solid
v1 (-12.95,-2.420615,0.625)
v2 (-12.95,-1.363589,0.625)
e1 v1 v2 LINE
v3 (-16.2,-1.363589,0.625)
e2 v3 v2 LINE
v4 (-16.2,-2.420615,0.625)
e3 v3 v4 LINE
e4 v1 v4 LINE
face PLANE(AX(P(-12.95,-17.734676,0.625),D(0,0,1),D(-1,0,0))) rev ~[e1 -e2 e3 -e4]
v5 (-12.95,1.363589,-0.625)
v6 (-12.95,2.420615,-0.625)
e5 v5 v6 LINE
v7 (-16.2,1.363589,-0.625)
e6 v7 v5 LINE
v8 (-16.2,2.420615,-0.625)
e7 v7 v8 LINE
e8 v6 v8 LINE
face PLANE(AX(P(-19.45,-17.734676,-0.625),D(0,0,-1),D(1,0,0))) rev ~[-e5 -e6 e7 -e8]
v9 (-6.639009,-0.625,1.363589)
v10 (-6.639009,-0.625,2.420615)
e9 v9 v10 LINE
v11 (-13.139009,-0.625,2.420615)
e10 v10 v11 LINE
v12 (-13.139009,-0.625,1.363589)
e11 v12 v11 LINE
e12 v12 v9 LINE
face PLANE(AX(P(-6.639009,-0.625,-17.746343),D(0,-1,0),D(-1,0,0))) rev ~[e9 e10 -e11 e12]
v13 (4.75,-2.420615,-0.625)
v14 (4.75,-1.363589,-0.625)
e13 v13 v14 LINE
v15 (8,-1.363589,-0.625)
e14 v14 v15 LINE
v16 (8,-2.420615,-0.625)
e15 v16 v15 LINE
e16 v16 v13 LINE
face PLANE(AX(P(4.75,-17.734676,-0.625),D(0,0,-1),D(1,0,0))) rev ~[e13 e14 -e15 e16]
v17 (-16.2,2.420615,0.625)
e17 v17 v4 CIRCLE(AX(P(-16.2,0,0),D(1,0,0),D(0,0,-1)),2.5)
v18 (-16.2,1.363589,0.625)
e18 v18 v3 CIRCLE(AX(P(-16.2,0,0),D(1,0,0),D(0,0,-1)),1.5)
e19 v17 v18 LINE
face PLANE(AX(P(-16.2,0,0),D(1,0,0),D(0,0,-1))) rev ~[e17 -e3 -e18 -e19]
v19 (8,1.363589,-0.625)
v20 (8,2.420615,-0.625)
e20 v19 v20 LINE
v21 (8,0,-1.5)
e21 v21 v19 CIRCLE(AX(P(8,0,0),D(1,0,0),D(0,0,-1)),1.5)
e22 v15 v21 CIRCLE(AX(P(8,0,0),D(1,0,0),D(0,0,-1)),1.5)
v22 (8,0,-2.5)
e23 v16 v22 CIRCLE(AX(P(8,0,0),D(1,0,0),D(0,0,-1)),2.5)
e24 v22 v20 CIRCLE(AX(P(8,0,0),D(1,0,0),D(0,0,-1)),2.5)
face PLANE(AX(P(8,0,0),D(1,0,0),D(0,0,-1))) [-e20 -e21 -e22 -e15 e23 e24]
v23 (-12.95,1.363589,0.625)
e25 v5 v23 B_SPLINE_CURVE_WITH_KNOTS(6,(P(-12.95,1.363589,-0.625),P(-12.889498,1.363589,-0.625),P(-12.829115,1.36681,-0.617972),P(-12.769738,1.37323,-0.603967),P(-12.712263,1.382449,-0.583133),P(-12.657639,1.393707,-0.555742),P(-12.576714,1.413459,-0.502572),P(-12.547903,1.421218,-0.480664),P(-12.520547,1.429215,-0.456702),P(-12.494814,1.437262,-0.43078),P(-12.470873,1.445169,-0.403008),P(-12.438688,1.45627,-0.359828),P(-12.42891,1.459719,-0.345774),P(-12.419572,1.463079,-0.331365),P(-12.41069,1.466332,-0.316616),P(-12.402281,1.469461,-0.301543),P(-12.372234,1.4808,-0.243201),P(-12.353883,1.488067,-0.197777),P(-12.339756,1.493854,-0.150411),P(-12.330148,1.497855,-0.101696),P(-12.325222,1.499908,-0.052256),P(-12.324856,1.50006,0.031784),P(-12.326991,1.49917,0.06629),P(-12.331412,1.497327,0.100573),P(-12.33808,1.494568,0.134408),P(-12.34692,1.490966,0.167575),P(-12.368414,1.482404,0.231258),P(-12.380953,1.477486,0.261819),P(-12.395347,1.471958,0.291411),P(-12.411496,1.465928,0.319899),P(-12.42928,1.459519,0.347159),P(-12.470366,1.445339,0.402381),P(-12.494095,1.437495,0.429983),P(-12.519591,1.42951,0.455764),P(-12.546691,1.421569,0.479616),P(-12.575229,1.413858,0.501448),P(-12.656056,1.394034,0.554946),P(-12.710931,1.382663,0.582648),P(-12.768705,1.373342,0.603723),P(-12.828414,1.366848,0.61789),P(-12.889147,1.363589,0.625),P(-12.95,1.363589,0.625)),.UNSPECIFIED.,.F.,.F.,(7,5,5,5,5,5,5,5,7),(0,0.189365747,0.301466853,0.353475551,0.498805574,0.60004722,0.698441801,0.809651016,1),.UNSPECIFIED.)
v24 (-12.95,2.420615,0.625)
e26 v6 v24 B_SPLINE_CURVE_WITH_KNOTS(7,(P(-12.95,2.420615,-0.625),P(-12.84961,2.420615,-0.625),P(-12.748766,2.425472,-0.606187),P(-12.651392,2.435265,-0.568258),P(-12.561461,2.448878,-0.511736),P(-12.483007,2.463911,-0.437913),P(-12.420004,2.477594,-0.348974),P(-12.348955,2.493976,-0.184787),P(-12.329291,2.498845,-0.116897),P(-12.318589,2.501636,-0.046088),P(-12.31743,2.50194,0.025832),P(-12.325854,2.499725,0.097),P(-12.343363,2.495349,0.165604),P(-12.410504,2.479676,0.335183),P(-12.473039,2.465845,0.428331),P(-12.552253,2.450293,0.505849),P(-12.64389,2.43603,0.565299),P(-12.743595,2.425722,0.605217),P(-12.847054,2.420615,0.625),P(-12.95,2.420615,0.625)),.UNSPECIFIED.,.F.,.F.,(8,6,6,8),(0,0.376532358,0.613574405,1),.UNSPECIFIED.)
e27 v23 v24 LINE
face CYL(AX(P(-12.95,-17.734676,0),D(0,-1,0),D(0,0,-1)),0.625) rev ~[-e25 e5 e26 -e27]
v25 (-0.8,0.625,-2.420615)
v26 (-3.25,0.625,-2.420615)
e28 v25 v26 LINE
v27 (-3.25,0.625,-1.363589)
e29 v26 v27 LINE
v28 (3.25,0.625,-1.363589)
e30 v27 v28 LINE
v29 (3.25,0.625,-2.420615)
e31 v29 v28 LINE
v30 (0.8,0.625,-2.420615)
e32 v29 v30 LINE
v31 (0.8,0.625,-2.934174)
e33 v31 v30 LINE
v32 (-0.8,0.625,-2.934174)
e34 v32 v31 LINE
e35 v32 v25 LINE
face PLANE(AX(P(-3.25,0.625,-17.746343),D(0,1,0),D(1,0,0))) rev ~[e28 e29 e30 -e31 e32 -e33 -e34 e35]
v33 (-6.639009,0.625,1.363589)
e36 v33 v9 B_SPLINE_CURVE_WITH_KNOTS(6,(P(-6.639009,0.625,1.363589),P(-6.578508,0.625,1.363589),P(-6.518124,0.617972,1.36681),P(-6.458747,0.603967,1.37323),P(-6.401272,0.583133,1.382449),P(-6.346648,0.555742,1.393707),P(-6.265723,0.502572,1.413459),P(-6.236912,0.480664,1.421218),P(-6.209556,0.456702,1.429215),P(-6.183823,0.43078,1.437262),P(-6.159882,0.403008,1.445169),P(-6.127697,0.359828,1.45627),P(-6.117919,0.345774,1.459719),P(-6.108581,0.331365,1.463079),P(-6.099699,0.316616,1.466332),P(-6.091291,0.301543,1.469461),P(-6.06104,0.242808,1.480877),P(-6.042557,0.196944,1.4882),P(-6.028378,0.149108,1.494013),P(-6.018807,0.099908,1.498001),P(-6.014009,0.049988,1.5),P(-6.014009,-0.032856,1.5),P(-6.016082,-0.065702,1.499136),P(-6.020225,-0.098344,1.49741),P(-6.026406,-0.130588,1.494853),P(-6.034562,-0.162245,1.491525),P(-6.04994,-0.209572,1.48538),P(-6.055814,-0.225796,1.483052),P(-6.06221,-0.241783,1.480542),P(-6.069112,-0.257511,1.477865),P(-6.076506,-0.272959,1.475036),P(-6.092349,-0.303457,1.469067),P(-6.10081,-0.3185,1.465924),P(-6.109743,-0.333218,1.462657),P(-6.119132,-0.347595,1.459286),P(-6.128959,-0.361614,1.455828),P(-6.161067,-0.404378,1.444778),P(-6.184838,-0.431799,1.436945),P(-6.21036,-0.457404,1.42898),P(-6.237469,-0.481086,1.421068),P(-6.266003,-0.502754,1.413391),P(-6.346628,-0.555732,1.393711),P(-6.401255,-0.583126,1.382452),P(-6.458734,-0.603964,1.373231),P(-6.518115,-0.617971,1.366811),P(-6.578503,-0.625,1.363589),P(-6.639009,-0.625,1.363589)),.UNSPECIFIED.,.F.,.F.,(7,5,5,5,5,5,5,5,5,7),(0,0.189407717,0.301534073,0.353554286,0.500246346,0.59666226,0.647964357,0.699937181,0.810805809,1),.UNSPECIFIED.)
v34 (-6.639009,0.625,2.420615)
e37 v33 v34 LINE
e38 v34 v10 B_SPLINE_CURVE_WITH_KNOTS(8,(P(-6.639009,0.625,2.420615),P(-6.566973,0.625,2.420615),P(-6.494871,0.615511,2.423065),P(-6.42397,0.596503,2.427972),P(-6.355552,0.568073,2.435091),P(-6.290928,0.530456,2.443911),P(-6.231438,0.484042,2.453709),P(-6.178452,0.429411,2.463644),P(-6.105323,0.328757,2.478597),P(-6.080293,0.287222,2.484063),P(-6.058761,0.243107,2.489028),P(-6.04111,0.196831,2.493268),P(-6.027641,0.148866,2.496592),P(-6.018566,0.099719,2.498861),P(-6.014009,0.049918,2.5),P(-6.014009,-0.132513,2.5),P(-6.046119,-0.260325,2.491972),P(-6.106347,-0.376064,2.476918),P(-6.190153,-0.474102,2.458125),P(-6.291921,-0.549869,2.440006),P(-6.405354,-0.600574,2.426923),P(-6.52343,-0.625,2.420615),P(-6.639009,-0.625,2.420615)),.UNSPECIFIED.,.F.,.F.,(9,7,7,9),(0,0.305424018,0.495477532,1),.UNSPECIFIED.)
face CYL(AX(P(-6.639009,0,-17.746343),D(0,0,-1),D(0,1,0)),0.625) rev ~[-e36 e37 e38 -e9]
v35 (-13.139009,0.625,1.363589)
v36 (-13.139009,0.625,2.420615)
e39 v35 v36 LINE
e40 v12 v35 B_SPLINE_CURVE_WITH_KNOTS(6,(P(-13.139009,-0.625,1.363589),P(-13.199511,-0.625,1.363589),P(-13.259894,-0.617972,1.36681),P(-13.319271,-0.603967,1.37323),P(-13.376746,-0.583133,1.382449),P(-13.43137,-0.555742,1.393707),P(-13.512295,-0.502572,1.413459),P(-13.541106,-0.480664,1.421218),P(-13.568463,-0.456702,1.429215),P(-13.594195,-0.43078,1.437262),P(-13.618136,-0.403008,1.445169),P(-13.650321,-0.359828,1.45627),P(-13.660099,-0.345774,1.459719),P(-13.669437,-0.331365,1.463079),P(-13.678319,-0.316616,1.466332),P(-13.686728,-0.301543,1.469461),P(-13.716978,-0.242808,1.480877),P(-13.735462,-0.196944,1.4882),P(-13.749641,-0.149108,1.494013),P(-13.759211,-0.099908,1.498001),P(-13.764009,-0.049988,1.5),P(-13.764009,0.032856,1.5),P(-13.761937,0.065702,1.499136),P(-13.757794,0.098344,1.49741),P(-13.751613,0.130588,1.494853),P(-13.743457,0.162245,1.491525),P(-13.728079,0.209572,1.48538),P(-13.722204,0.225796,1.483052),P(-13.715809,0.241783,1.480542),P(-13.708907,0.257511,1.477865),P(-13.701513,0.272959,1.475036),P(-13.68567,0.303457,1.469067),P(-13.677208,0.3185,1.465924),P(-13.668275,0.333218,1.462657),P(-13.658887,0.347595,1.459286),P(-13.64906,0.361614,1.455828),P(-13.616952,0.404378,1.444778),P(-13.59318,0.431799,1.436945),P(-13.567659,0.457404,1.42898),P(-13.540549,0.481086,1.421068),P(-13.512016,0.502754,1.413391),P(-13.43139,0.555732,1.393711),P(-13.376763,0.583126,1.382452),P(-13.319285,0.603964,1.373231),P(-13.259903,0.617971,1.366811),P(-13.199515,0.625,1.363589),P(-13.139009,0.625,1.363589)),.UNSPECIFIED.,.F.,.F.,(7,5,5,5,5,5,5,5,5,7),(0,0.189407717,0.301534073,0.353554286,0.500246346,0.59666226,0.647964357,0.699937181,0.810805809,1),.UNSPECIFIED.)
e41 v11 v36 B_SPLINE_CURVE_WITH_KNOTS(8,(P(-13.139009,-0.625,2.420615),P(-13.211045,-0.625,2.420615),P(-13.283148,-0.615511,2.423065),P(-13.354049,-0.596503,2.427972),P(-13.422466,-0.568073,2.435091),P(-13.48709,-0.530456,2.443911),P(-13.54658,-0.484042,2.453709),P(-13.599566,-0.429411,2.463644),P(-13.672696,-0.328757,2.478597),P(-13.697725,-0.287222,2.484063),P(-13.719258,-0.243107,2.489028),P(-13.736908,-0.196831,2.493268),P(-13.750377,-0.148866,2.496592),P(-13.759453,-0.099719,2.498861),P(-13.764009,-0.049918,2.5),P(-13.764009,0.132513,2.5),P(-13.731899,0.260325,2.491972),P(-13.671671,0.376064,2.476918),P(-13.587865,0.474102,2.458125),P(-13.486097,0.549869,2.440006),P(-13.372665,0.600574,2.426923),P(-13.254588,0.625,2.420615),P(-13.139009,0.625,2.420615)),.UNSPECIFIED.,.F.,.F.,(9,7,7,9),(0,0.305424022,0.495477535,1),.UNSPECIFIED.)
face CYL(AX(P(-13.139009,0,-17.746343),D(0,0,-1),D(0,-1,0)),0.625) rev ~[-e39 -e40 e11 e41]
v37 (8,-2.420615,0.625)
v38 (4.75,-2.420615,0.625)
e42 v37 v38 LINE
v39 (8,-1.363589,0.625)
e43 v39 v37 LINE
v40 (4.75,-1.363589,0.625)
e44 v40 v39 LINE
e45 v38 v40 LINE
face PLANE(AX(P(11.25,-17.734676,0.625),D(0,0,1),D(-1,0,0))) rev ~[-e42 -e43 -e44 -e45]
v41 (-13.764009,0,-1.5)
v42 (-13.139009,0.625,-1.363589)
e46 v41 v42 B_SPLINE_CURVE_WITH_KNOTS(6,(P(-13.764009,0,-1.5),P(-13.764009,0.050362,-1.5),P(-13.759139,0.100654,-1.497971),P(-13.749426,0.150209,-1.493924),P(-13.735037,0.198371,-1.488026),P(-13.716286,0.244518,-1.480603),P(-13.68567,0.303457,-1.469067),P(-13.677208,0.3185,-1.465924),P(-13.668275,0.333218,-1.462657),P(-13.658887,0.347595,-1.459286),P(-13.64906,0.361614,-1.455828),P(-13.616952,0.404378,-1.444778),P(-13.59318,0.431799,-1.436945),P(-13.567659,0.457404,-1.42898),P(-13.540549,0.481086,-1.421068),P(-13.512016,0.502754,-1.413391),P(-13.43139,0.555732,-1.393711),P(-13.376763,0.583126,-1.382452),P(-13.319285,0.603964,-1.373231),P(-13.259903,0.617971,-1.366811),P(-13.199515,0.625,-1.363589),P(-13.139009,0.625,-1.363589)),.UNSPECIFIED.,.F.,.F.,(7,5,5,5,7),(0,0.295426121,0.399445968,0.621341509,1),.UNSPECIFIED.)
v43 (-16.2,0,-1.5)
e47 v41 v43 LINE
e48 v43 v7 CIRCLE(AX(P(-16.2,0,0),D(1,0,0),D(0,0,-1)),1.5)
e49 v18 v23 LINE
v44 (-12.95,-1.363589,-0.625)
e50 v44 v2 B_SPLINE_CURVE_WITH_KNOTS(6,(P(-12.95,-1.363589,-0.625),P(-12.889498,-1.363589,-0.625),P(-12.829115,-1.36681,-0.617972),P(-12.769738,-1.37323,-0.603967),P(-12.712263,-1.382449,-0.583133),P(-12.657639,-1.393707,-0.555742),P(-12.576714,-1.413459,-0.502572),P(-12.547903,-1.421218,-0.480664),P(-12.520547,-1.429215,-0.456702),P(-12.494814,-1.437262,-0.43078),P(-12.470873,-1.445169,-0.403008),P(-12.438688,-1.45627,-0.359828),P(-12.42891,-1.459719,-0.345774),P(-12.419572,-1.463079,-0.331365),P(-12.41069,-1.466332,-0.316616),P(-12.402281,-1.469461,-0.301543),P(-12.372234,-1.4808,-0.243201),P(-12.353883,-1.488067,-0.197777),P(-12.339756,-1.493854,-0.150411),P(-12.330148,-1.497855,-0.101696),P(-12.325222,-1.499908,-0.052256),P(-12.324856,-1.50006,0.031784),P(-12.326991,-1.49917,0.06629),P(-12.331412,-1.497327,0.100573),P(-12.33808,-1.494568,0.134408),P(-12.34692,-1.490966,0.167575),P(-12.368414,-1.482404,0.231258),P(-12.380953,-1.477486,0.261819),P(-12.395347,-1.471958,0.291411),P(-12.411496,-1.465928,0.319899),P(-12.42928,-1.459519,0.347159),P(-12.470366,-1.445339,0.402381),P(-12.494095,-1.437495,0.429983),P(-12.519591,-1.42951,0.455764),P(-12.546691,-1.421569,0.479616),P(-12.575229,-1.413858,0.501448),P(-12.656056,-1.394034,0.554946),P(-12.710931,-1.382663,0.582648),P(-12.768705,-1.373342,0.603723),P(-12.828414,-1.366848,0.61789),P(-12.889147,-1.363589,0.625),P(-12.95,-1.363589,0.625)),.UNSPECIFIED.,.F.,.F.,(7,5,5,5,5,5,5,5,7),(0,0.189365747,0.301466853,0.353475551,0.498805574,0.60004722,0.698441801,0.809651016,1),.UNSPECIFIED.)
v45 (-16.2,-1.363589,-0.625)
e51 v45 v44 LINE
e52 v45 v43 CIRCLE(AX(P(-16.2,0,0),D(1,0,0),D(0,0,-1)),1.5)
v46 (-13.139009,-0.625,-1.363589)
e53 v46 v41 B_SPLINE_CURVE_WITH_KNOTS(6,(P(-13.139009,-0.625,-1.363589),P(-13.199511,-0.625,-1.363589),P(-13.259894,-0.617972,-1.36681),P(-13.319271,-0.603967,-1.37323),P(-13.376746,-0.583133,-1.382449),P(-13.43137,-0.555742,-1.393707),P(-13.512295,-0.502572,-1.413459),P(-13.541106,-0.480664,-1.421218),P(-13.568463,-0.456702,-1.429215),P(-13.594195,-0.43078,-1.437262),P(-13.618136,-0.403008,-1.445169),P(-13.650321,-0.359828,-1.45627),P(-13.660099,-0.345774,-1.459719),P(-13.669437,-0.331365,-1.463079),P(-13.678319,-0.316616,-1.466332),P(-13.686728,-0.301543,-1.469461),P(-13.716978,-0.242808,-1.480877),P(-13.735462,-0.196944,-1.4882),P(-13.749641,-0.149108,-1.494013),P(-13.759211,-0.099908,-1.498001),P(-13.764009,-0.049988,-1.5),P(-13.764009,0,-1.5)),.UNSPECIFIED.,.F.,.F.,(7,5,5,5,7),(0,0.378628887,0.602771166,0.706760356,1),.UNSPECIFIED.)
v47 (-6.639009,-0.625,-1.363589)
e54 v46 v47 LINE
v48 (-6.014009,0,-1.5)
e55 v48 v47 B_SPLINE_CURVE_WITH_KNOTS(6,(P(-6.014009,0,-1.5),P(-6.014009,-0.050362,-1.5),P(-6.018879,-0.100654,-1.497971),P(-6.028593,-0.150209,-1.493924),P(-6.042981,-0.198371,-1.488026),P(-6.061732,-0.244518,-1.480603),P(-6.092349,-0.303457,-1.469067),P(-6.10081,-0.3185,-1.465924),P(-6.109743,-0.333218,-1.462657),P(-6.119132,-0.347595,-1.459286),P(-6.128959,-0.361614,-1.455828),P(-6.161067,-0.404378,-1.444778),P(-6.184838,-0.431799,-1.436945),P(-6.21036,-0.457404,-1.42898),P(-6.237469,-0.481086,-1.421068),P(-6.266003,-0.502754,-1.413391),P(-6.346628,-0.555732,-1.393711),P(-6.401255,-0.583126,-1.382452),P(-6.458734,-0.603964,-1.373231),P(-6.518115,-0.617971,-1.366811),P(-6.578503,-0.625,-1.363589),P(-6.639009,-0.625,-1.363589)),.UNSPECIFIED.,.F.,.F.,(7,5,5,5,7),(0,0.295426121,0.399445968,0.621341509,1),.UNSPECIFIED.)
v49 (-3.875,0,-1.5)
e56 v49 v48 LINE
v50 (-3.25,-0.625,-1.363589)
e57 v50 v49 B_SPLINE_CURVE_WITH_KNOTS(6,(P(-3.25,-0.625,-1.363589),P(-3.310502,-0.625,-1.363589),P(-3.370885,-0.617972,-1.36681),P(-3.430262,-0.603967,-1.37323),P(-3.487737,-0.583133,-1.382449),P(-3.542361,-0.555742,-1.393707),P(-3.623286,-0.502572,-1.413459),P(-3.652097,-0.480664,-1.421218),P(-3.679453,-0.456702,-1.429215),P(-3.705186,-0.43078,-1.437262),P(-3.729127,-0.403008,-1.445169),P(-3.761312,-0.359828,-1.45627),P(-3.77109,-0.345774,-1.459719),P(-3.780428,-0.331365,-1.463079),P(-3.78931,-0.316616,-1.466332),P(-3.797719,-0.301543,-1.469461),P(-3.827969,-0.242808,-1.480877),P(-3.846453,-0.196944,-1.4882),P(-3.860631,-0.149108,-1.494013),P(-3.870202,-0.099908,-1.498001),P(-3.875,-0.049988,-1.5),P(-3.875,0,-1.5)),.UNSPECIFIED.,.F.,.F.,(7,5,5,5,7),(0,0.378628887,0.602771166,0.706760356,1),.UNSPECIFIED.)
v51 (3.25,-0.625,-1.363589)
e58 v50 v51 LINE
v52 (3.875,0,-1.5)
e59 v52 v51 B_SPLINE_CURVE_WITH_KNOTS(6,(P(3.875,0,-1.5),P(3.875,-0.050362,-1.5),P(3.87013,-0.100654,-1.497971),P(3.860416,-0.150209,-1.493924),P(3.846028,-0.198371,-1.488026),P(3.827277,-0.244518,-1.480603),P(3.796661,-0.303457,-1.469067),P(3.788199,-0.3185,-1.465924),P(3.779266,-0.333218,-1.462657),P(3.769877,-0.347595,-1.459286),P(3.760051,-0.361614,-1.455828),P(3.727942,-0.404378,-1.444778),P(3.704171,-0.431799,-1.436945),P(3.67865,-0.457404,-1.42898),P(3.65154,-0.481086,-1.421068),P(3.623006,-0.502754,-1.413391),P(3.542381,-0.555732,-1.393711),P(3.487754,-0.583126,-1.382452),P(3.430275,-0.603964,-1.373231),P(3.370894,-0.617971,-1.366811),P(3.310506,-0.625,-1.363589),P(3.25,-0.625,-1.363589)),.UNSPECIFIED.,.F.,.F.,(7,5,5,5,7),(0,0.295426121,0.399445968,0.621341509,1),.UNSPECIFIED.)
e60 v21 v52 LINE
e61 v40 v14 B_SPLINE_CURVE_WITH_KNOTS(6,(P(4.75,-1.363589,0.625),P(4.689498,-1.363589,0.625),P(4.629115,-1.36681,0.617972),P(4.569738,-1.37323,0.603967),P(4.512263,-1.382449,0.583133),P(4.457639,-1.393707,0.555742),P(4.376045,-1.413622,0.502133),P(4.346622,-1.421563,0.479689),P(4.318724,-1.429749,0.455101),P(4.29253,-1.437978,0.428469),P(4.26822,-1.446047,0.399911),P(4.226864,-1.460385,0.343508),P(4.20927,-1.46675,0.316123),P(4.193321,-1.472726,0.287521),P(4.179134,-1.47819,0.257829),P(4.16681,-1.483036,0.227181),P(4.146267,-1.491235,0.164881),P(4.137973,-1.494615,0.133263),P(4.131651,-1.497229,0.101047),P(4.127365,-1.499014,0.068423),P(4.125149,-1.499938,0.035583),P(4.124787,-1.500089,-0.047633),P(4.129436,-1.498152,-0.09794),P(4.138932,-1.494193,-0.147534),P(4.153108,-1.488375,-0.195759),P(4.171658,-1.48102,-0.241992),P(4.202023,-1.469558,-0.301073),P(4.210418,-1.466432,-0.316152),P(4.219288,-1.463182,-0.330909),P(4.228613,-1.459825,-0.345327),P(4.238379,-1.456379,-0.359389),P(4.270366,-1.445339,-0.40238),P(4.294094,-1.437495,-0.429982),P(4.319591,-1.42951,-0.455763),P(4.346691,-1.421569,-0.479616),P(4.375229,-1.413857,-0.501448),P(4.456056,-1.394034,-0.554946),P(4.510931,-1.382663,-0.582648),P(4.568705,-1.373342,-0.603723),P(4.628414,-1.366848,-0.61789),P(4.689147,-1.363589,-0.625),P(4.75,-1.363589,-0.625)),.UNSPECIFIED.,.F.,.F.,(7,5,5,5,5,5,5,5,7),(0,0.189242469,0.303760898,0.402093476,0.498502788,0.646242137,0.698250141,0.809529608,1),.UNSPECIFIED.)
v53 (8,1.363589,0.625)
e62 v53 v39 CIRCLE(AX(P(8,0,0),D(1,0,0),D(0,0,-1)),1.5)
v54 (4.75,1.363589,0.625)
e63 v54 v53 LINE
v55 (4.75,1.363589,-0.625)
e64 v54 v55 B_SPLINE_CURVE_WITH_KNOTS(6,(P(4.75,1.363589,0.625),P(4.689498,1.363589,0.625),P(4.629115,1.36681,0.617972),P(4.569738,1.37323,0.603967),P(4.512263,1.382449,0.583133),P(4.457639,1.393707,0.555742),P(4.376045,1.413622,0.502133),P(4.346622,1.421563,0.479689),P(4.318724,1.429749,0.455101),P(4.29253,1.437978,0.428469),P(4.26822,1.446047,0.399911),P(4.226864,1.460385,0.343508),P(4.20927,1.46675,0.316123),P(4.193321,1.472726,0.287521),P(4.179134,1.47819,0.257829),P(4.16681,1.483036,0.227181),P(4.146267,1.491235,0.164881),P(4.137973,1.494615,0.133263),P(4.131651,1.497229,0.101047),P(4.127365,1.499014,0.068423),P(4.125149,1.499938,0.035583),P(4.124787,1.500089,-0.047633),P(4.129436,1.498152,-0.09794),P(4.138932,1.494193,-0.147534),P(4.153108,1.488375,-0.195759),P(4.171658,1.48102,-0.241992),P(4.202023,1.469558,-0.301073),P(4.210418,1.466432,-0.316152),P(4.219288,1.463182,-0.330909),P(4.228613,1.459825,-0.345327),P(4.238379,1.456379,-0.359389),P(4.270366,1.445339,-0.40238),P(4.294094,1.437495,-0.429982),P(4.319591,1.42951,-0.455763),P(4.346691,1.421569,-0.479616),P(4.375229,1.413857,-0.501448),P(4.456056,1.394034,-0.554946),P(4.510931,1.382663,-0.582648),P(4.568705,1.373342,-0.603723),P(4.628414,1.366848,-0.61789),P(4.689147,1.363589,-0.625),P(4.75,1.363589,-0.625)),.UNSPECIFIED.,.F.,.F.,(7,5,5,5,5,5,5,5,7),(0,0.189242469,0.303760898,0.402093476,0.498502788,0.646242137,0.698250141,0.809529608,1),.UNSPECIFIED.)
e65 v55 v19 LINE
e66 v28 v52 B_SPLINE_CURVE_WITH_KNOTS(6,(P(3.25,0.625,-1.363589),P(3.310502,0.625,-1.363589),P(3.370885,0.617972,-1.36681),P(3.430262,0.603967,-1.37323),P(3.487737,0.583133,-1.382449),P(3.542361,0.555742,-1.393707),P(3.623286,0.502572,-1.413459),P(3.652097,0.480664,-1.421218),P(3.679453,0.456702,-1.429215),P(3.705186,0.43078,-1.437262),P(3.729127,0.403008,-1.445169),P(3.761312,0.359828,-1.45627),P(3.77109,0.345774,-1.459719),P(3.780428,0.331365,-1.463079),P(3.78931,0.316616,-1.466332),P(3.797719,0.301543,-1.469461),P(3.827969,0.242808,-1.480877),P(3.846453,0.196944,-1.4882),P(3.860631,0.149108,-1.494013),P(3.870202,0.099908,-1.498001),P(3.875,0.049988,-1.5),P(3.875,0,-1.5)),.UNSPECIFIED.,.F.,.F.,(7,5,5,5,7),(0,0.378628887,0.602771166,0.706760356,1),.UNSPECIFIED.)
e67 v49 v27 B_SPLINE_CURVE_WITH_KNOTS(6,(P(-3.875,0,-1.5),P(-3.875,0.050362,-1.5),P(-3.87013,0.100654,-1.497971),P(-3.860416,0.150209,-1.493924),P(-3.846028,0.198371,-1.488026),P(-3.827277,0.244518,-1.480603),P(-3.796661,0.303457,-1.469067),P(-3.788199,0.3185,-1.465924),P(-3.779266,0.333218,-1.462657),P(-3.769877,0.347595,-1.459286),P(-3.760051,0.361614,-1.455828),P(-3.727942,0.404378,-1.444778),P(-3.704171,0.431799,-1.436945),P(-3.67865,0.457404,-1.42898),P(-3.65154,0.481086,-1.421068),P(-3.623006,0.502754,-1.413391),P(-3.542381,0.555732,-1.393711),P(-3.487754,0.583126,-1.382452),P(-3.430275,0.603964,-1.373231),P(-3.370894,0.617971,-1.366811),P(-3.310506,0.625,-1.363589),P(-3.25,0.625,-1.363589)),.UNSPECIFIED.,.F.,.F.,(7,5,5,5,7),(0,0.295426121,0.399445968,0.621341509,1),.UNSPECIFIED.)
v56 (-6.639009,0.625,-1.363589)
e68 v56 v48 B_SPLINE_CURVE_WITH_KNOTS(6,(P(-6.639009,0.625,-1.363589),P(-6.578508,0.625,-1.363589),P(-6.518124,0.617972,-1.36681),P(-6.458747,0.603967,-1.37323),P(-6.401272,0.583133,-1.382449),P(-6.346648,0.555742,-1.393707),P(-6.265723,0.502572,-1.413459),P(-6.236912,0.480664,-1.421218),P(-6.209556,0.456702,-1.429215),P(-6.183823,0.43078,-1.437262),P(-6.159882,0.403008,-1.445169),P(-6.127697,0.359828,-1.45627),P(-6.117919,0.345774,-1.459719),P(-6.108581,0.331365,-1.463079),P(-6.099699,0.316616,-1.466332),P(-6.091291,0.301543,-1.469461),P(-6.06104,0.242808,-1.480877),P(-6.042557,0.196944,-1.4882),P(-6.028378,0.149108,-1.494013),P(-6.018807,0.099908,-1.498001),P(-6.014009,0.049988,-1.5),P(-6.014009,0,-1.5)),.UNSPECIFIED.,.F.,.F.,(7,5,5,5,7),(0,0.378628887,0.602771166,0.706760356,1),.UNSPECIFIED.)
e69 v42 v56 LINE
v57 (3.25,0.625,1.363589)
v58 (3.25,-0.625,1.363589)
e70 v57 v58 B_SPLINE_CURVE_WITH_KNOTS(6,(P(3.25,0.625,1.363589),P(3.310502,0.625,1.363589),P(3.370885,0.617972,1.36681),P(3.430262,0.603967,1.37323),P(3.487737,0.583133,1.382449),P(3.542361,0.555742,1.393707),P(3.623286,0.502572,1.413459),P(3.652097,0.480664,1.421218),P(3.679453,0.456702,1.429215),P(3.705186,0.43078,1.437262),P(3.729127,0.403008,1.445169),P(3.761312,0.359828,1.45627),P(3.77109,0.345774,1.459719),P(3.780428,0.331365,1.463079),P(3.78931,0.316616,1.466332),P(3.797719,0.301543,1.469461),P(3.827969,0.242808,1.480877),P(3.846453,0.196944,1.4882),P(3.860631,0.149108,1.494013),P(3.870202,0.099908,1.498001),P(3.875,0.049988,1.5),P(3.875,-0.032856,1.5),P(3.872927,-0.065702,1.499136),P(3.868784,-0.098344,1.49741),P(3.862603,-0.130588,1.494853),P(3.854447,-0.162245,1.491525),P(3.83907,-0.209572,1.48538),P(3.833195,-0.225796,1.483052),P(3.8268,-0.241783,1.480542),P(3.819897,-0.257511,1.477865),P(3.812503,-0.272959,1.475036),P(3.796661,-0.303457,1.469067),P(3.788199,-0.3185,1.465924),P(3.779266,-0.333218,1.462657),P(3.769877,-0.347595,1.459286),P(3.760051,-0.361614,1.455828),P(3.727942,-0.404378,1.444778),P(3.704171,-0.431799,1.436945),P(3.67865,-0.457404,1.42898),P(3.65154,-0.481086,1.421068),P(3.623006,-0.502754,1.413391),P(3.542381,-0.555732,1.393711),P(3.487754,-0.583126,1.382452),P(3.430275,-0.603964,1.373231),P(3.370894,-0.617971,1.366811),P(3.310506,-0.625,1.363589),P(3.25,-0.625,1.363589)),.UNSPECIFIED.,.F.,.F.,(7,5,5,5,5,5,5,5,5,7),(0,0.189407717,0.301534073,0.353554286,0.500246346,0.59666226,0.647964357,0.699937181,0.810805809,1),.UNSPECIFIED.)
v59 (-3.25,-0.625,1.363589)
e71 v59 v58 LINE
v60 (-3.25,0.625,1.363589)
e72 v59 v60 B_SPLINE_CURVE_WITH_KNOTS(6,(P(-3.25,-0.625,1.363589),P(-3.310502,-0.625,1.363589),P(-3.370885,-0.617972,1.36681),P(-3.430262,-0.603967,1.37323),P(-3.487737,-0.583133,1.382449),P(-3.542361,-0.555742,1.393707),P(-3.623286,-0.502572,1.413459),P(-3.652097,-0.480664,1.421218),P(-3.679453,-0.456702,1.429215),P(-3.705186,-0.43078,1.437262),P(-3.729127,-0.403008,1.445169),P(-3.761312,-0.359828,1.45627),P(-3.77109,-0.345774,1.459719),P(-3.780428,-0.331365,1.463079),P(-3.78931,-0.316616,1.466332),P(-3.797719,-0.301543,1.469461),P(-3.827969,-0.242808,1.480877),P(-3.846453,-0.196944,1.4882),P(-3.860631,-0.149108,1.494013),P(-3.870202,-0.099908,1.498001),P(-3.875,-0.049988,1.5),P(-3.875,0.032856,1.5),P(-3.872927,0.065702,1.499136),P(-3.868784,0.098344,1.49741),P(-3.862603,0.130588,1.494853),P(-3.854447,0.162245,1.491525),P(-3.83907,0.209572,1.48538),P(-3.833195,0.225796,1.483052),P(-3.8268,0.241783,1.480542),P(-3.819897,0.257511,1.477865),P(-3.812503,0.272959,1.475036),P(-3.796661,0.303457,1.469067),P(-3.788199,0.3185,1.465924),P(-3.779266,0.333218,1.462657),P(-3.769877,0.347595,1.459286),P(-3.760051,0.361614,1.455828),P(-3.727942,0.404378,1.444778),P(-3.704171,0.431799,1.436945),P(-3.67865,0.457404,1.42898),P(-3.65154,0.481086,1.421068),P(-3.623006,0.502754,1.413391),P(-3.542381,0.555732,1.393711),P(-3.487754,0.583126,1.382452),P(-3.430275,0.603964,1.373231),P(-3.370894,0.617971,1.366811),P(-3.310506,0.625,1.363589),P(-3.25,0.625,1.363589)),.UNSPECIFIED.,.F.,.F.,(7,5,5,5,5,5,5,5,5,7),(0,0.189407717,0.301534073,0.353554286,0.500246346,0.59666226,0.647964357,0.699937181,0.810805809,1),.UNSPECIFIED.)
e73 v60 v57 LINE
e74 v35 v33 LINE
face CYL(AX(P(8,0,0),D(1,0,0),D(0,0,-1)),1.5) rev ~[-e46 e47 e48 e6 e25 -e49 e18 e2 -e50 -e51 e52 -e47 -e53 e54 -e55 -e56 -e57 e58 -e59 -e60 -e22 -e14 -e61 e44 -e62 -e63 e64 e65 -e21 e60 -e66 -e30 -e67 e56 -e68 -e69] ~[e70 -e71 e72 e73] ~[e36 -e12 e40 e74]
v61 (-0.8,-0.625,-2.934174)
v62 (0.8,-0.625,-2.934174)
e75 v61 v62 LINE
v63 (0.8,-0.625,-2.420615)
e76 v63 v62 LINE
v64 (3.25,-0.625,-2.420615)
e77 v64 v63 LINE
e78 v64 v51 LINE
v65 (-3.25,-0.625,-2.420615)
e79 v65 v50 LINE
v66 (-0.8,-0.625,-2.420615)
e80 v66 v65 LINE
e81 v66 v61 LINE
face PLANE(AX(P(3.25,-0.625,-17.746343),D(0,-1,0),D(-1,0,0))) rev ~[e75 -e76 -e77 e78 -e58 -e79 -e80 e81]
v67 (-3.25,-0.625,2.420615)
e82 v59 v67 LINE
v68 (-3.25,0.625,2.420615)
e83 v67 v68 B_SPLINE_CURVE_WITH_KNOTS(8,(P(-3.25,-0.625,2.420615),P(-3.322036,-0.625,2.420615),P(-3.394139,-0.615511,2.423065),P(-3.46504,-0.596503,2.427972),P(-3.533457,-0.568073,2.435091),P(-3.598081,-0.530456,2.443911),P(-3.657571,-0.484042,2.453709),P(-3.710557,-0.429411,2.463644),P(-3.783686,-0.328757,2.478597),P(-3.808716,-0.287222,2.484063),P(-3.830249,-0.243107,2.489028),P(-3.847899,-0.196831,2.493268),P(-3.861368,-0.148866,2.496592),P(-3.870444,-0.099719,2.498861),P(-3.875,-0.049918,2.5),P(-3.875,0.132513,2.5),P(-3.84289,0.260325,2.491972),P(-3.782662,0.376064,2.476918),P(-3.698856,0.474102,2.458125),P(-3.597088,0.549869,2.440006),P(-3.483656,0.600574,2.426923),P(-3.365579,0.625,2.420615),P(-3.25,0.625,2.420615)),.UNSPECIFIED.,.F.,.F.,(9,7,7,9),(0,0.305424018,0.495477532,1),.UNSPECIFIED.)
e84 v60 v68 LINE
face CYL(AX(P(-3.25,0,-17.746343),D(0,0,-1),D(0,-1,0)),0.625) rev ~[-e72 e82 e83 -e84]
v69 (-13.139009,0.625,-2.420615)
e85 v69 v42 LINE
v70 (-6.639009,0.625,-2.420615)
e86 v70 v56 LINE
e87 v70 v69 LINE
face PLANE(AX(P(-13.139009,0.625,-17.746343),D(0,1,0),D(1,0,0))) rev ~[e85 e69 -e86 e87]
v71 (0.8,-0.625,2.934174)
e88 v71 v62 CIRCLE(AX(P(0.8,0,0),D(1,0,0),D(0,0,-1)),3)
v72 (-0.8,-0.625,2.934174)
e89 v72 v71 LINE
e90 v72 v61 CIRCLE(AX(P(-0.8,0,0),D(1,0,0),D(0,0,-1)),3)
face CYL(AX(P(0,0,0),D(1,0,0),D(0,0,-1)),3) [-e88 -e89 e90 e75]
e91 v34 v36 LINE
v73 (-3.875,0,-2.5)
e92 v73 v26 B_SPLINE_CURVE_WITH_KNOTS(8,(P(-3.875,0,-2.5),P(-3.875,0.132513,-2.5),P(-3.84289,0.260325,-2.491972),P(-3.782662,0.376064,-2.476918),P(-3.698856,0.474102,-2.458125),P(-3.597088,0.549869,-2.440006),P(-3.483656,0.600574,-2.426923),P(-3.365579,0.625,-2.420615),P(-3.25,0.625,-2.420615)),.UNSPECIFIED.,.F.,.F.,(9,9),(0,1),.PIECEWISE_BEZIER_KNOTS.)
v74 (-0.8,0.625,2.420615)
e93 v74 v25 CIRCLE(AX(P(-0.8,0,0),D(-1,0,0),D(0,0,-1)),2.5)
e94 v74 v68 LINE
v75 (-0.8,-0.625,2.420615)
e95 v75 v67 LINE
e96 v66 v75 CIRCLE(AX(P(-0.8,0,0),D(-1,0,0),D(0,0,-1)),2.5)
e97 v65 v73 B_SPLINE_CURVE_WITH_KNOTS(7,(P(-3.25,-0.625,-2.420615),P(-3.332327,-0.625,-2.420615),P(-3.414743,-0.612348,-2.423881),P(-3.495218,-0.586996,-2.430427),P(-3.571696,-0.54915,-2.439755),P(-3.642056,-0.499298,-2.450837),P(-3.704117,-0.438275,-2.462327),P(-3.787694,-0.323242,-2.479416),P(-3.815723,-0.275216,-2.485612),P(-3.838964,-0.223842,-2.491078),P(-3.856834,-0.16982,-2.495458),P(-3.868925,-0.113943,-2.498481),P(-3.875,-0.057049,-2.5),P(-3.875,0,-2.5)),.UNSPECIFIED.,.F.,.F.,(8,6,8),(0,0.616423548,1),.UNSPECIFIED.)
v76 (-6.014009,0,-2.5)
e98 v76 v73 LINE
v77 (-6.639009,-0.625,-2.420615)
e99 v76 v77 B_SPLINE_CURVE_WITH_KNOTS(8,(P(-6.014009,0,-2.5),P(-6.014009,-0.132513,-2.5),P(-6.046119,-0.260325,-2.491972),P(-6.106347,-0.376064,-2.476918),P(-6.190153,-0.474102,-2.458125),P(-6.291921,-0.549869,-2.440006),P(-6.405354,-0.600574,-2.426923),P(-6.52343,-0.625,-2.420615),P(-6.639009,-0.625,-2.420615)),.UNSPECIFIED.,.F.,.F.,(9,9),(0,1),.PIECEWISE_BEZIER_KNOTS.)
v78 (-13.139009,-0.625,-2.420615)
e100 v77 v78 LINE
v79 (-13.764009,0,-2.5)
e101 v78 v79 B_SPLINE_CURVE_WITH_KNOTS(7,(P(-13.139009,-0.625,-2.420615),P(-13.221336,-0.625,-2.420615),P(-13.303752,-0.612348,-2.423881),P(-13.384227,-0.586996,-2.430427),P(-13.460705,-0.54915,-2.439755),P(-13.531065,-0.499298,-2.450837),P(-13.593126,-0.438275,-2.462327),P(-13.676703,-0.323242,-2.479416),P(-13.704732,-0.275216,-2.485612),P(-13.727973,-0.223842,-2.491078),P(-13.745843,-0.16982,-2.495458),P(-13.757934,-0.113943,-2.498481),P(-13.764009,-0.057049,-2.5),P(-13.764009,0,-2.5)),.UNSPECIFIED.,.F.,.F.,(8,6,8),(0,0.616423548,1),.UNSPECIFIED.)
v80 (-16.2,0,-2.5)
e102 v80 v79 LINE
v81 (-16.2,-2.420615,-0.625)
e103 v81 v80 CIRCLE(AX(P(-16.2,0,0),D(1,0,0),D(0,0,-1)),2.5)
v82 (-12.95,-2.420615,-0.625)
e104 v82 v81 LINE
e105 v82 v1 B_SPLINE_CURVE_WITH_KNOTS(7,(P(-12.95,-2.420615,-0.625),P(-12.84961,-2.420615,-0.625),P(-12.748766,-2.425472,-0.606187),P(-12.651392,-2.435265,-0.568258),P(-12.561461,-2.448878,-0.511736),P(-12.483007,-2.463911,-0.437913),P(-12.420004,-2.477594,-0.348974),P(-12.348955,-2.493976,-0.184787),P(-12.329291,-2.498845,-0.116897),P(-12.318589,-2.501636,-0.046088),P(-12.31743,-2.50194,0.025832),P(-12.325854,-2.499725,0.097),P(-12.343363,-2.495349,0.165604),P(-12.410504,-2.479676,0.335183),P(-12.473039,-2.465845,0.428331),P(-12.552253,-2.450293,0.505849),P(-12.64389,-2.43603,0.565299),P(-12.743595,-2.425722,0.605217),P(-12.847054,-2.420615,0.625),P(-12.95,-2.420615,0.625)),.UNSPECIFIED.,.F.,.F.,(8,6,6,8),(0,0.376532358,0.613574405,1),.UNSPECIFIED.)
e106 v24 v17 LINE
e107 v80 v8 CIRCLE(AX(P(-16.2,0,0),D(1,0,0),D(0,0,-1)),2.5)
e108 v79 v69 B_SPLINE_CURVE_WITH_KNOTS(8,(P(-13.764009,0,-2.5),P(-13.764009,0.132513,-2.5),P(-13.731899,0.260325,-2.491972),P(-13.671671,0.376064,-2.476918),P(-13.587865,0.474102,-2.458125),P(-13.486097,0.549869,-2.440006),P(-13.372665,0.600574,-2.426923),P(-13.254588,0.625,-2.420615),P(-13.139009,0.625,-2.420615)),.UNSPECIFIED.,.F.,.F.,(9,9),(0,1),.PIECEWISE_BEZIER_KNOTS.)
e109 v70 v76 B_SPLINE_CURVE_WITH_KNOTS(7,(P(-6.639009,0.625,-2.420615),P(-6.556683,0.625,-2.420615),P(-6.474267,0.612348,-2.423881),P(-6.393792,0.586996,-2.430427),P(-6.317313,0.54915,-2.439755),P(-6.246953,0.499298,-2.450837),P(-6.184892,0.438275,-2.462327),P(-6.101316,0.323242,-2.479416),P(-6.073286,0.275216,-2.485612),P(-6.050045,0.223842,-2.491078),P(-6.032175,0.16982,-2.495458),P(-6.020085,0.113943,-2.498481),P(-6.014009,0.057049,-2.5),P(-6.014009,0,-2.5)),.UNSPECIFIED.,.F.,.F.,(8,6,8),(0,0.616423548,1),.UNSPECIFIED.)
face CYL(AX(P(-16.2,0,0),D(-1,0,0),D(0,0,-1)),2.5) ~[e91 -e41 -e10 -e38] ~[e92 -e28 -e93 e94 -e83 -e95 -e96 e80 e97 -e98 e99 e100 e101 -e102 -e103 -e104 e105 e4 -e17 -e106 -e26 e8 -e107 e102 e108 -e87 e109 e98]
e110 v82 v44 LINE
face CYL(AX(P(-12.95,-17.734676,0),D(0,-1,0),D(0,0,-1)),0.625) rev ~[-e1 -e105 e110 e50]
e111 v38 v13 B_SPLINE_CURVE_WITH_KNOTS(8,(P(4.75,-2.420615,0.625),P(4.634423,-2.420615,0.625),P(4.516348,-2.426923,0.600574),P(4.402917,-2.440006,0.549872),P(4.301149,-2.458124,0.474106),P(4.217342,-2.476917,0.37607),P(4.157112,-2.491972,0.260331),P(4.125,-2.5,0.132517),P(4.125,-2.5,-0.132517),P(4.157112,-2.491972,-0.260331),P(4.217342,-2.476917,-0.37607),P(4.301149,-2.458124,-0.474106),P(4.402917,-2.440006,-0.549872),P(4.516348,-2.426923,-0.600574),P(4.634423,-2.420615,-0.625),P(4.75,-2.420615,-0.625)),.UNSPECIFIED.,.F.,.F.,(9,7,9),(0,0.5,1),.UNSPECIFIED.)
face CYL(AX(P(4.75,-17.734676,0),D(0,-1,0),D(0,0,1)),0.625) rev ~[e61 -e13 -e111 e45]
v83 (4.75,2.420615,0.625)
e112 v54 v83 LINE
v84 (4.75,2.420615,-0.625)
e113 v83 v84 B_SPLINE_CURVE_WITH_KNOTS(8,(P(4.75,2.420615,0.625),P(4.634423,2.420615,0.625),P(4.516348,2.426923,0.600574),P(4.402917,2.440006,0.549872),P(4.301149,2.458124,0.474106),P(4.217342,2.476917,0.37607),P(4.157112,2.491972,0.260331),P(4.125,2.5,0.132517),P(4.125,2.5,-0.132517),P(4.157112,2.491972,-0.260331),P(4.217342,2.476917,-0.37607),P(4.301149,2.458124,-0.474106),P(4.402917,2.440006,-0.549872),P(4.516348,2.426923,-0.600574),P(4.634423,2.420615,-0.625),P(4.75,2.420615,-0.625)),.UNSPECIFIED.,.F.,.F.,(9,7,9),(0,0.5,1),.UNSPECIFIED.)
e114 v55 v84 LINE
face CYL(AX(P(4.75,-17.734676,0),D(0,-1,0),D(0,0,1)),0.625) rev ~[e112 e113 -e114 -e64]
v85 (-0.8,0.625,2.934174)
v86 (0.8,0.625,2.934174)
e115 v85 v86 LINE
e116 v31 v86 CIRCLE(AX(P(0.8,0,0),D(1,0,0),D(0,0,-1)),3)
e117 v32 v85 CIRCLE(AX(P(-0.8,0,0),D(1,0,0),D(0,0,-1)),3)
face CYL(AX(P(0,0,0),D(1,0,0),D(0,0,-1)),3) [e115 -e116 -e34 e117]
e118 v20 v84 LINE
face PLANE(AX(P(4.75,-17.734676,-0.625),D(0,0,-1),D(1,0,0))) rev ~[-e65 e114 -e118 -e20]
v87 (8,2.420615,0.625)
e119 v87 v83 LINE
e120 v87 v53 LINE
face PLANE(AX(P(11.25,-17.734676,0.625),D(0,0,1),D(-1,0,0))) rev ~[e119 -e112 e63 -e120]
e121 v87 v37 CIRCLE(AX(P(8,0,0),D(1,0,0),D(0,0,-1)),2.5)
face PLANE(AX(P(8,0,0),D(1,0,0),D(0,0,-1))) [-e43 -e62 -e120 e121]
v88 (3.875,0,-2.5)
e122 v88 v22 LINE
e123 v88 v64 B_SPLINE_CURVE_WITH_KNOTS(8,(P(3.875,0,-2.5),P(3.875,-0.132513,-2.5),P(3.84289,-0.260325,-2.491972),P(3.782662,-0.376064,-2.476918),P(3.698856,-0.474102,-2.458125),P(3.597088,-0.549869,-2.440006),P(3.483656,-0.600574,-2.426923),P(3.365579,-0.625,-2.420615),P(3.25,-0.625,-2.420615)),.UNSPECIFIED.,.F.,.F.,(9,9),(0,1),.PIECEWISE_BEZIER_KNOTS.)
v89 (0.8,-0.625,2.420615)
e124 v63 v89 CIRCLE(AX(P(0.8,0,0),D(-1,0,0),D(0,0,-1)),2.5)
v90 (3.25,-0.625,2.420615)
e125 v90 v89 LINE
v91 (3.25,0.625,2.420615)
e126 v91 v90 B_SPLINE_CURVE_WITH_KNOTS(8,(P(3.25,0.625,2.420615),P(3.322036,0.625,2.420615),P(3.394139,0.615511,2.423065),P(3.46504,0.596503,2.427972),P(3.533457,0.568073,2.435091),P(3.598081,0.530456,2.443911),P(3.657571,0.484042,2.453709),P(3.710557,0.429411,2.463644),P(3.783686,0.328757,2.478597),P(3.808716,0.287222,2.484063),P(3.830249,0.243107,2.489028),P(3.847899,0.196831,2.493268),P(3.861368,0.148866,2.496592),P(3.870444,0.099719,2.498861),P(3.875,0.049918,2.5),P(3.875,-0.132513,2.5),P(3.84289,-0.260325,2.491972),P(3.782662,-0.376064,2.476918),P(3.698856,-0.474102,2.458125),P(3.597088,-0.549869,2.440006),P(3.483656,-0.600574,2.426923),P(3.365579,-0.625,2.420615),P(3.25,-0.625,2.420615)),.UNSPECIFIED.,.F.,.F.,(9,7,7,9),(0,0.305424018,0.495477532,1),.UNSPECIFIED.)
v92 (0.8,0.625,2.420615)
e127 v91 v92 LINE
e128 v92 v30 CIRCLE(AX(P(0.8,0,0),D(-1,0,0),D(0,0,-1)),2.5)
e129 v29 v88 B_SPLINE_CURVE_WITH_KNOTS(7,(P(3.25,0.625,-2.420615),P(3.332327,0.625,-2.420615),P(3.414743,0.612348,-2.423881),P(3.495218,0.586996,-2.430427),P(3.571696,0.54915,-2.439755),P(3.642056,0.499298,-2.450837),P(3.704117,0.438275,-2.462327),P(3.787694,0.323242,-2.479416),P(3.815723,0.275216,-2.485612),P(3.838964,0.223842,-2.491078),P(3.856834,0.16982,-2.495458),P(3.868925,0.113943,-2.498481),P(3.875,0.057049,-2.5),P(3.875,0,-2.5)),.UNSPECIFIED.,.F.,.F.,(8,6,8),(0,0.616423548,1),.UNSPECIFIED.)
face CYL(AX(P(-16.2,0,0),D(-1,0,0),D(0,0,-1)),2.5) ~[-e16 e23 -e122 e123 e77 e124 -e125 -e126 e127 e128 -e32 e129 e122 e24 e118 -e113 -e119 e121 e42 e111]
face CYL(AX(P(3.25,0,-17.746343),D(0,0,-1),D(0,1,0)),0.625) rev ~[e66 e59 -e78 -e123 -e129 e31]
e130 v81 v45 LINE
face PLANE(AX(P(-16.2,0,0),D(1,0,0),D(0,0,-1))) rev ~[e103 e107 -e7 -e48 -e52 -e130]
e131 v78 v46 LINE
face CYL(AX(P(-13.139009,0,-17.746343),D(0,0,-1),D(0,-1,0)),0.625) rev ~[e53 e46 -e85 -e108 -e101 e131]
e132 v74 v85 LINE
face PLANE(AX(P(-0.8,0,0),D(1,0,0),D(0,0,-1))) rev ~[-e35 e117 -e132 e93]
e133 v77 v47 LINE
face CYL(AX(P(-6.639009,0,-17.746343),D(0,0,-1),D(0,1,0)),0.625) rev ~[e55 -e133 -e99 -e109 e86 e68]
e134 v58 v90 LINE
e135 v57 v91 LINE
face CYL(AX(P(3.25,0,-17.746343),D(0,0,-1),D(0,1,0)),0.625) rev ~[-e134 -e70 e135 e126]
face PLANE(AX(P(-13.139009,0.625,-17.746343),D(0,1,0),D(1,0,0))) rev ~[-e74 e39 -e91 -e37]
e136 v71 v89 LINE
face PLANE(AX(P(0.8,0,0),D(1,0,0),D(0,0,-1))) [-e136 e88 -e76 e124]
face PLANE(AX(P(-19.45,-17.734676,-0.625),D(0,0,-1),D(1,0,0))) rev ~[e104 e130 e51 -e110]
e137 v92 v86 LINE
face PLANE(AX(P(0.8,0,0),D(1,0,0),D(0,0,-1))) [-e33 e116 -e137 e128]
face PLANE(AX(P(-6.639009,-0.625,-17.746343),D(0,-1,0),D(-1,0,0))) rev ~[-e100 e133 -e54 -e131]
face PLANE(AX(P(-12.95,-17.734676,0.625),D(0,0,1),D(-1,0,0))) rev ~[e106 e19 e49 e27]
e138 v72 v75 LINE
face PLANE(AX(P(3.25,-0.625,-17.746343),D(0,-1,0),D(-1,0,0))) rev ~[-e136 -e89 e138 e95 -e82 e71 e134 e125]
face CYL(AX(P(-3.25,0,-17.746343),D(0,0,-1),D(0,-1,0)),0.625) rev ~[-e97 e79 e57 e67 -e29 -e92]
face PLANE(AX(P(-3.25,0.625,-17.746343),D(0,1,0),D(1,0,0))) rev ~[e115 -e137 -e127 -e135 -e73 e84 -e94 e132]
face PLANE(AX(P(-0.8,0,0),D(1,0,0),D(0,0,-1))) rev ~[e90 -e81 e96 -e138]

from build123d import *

# Parameters (mm, degrees)
SKETCH1_R                = 3
BOSS_EXTRUDE1_DEPTH      = 0.8
BOSS_EXTRUDE2_DEPTH      = 7.2
BOSS_EXTRUDE2_DEPTH_BACK = 17
SKETCH2_R                = 2.5
CUT_EXTRUDE1_DEPTH       = 17.746342884
CUT_EXTRUDE1_DEPTH_BACK  = 17.746342884
SKETCH4_R                = 1.5
CUT_EXTRUDE2_DEPTH       = 25.561135557
CUT_EXTRUDE3_DEPTH       = 17.734675923
CUT_EXTRUDE3_DEPTH_BACK  = 17.734675923


with BuildPart() as part:
    # Sketch1 → Boss-Extrude1 (new, symmetric)
    with BuildSketch(Plane(origin=(0, 0, 0), x_dir=(0, 0, -1), z_dir=(1, 0, 0))):
        Circle(SKETCH1_R)
    extrude(amount=BOSS_EXTRUDE1_DEPTH, both=True)

    # Sketch2 → Boss-Extrude2 (add, two sides: drawn at the far end of the back side and taken through both)
    with BuildSketch(Plane(origin=(0.8, 0, 0), x_dir=(0, 0, -1), z_dir=(1, 0, 0)).offset(-BOSS_EXTRUDE2_DEPTH_BACK)):
        Circle(SKETCH2_R)
    extrude(amount=BOSS_EXTRUDE2_DEPTH + BOSS_EXTRUDE2_DEPTH_BACK)

    # Sketch3 → Cut-Extrude1 (cut, two sides: drawn at the far end of the back side and taken through both)
    with BuildSketch(Plane.XY.offset(-CUT_EXTRUDE1_DEPTH_BACK)):
        with BuildLine():
            Line((-3.25, 0.625), (3.25, 0.625))
            ThreePointArc((3.25, 0.625), (3.875, 0), (3.25, -0.625))
            Line((3.25, -0.625), (-3.25, -0.625))
            ThreePointArc((-3.25, -0.625), (-3.875, 0), (-3.25, 0.625))
        make_face()
        with BuildLine():
            Line((-13.139009245, 0.625), (-6.639009245, 0.625))
            ThreePointArc((-6.639009245, 0.625), (-6.014009245, 0), (-6.639009245, -0.625))
            Line((-6.639009245, -0.625), (-13.139009245, -0.625))
            ThreePointArc((-13.139009245, -0.625), (-13.764009245, 0), (-13.139009245, 0.625))
        make_face()
    extrude(amount=CUT_EXTRUDE1_DEPTH + CUT_EXTRUDE1_DEPTH_BACK, mode=Mode.SUBTRACT)

    # Sketch4 → Cut-Extrude2 (cut, through all)
    with BuildSketch(Plane(origin=(8, 0, 0), x_dir=(0, 0, -1), z_dir=(1, 0, 0))):
        Circle(SKETCH4_R)
    extrude(amount=-CUT_EXTRUDE2_DEPTH, mode=Mode.SUBTRACT)

    # Sketch5 → Cut-Extrude3 (cut, two sides: drawn at the far end of the back side and taken through both)
    with BuildSketch(Plane(origin=(0, 0, 0), x_dir=(1, 0, 0), z_dir=(0, 1, 0)).offset(-CUT_EXTRUDE3_DEPTH_BACK)):
        with BuildLine():
            Line((-19.45, 0.625), (-12.95, 0.625))
            ThreePointArc((-12.95, 0.625), (-12.325, 0), (-12.95, -0.625))
            Line((-12.95, -0.625), (-19.45, -0.625))
            ThreePointArc((-19.45, -0.625), (-20.075, 0), (-19.45, 0.625))
        make_face()
        with BuildLine():
            Line((11.25, -0.625), (4.75, -0.625))
            ThreePointArc((4.75, -0.625), (4.125, 0), (4.75, 0.625))
            Line((4.75, 0.625), (11.25, 0.625))
            ThreePointArc((11.25, 0.625), (11.875, 0), (11.25, -0.625))
        make_face()
    extrude(amount=CUT_EXTRUDE3_DEPTH + CUT_EXTRUDE3_DEPTH_BACK, mode=Mode.SUBTRACT)


solid = part.part
